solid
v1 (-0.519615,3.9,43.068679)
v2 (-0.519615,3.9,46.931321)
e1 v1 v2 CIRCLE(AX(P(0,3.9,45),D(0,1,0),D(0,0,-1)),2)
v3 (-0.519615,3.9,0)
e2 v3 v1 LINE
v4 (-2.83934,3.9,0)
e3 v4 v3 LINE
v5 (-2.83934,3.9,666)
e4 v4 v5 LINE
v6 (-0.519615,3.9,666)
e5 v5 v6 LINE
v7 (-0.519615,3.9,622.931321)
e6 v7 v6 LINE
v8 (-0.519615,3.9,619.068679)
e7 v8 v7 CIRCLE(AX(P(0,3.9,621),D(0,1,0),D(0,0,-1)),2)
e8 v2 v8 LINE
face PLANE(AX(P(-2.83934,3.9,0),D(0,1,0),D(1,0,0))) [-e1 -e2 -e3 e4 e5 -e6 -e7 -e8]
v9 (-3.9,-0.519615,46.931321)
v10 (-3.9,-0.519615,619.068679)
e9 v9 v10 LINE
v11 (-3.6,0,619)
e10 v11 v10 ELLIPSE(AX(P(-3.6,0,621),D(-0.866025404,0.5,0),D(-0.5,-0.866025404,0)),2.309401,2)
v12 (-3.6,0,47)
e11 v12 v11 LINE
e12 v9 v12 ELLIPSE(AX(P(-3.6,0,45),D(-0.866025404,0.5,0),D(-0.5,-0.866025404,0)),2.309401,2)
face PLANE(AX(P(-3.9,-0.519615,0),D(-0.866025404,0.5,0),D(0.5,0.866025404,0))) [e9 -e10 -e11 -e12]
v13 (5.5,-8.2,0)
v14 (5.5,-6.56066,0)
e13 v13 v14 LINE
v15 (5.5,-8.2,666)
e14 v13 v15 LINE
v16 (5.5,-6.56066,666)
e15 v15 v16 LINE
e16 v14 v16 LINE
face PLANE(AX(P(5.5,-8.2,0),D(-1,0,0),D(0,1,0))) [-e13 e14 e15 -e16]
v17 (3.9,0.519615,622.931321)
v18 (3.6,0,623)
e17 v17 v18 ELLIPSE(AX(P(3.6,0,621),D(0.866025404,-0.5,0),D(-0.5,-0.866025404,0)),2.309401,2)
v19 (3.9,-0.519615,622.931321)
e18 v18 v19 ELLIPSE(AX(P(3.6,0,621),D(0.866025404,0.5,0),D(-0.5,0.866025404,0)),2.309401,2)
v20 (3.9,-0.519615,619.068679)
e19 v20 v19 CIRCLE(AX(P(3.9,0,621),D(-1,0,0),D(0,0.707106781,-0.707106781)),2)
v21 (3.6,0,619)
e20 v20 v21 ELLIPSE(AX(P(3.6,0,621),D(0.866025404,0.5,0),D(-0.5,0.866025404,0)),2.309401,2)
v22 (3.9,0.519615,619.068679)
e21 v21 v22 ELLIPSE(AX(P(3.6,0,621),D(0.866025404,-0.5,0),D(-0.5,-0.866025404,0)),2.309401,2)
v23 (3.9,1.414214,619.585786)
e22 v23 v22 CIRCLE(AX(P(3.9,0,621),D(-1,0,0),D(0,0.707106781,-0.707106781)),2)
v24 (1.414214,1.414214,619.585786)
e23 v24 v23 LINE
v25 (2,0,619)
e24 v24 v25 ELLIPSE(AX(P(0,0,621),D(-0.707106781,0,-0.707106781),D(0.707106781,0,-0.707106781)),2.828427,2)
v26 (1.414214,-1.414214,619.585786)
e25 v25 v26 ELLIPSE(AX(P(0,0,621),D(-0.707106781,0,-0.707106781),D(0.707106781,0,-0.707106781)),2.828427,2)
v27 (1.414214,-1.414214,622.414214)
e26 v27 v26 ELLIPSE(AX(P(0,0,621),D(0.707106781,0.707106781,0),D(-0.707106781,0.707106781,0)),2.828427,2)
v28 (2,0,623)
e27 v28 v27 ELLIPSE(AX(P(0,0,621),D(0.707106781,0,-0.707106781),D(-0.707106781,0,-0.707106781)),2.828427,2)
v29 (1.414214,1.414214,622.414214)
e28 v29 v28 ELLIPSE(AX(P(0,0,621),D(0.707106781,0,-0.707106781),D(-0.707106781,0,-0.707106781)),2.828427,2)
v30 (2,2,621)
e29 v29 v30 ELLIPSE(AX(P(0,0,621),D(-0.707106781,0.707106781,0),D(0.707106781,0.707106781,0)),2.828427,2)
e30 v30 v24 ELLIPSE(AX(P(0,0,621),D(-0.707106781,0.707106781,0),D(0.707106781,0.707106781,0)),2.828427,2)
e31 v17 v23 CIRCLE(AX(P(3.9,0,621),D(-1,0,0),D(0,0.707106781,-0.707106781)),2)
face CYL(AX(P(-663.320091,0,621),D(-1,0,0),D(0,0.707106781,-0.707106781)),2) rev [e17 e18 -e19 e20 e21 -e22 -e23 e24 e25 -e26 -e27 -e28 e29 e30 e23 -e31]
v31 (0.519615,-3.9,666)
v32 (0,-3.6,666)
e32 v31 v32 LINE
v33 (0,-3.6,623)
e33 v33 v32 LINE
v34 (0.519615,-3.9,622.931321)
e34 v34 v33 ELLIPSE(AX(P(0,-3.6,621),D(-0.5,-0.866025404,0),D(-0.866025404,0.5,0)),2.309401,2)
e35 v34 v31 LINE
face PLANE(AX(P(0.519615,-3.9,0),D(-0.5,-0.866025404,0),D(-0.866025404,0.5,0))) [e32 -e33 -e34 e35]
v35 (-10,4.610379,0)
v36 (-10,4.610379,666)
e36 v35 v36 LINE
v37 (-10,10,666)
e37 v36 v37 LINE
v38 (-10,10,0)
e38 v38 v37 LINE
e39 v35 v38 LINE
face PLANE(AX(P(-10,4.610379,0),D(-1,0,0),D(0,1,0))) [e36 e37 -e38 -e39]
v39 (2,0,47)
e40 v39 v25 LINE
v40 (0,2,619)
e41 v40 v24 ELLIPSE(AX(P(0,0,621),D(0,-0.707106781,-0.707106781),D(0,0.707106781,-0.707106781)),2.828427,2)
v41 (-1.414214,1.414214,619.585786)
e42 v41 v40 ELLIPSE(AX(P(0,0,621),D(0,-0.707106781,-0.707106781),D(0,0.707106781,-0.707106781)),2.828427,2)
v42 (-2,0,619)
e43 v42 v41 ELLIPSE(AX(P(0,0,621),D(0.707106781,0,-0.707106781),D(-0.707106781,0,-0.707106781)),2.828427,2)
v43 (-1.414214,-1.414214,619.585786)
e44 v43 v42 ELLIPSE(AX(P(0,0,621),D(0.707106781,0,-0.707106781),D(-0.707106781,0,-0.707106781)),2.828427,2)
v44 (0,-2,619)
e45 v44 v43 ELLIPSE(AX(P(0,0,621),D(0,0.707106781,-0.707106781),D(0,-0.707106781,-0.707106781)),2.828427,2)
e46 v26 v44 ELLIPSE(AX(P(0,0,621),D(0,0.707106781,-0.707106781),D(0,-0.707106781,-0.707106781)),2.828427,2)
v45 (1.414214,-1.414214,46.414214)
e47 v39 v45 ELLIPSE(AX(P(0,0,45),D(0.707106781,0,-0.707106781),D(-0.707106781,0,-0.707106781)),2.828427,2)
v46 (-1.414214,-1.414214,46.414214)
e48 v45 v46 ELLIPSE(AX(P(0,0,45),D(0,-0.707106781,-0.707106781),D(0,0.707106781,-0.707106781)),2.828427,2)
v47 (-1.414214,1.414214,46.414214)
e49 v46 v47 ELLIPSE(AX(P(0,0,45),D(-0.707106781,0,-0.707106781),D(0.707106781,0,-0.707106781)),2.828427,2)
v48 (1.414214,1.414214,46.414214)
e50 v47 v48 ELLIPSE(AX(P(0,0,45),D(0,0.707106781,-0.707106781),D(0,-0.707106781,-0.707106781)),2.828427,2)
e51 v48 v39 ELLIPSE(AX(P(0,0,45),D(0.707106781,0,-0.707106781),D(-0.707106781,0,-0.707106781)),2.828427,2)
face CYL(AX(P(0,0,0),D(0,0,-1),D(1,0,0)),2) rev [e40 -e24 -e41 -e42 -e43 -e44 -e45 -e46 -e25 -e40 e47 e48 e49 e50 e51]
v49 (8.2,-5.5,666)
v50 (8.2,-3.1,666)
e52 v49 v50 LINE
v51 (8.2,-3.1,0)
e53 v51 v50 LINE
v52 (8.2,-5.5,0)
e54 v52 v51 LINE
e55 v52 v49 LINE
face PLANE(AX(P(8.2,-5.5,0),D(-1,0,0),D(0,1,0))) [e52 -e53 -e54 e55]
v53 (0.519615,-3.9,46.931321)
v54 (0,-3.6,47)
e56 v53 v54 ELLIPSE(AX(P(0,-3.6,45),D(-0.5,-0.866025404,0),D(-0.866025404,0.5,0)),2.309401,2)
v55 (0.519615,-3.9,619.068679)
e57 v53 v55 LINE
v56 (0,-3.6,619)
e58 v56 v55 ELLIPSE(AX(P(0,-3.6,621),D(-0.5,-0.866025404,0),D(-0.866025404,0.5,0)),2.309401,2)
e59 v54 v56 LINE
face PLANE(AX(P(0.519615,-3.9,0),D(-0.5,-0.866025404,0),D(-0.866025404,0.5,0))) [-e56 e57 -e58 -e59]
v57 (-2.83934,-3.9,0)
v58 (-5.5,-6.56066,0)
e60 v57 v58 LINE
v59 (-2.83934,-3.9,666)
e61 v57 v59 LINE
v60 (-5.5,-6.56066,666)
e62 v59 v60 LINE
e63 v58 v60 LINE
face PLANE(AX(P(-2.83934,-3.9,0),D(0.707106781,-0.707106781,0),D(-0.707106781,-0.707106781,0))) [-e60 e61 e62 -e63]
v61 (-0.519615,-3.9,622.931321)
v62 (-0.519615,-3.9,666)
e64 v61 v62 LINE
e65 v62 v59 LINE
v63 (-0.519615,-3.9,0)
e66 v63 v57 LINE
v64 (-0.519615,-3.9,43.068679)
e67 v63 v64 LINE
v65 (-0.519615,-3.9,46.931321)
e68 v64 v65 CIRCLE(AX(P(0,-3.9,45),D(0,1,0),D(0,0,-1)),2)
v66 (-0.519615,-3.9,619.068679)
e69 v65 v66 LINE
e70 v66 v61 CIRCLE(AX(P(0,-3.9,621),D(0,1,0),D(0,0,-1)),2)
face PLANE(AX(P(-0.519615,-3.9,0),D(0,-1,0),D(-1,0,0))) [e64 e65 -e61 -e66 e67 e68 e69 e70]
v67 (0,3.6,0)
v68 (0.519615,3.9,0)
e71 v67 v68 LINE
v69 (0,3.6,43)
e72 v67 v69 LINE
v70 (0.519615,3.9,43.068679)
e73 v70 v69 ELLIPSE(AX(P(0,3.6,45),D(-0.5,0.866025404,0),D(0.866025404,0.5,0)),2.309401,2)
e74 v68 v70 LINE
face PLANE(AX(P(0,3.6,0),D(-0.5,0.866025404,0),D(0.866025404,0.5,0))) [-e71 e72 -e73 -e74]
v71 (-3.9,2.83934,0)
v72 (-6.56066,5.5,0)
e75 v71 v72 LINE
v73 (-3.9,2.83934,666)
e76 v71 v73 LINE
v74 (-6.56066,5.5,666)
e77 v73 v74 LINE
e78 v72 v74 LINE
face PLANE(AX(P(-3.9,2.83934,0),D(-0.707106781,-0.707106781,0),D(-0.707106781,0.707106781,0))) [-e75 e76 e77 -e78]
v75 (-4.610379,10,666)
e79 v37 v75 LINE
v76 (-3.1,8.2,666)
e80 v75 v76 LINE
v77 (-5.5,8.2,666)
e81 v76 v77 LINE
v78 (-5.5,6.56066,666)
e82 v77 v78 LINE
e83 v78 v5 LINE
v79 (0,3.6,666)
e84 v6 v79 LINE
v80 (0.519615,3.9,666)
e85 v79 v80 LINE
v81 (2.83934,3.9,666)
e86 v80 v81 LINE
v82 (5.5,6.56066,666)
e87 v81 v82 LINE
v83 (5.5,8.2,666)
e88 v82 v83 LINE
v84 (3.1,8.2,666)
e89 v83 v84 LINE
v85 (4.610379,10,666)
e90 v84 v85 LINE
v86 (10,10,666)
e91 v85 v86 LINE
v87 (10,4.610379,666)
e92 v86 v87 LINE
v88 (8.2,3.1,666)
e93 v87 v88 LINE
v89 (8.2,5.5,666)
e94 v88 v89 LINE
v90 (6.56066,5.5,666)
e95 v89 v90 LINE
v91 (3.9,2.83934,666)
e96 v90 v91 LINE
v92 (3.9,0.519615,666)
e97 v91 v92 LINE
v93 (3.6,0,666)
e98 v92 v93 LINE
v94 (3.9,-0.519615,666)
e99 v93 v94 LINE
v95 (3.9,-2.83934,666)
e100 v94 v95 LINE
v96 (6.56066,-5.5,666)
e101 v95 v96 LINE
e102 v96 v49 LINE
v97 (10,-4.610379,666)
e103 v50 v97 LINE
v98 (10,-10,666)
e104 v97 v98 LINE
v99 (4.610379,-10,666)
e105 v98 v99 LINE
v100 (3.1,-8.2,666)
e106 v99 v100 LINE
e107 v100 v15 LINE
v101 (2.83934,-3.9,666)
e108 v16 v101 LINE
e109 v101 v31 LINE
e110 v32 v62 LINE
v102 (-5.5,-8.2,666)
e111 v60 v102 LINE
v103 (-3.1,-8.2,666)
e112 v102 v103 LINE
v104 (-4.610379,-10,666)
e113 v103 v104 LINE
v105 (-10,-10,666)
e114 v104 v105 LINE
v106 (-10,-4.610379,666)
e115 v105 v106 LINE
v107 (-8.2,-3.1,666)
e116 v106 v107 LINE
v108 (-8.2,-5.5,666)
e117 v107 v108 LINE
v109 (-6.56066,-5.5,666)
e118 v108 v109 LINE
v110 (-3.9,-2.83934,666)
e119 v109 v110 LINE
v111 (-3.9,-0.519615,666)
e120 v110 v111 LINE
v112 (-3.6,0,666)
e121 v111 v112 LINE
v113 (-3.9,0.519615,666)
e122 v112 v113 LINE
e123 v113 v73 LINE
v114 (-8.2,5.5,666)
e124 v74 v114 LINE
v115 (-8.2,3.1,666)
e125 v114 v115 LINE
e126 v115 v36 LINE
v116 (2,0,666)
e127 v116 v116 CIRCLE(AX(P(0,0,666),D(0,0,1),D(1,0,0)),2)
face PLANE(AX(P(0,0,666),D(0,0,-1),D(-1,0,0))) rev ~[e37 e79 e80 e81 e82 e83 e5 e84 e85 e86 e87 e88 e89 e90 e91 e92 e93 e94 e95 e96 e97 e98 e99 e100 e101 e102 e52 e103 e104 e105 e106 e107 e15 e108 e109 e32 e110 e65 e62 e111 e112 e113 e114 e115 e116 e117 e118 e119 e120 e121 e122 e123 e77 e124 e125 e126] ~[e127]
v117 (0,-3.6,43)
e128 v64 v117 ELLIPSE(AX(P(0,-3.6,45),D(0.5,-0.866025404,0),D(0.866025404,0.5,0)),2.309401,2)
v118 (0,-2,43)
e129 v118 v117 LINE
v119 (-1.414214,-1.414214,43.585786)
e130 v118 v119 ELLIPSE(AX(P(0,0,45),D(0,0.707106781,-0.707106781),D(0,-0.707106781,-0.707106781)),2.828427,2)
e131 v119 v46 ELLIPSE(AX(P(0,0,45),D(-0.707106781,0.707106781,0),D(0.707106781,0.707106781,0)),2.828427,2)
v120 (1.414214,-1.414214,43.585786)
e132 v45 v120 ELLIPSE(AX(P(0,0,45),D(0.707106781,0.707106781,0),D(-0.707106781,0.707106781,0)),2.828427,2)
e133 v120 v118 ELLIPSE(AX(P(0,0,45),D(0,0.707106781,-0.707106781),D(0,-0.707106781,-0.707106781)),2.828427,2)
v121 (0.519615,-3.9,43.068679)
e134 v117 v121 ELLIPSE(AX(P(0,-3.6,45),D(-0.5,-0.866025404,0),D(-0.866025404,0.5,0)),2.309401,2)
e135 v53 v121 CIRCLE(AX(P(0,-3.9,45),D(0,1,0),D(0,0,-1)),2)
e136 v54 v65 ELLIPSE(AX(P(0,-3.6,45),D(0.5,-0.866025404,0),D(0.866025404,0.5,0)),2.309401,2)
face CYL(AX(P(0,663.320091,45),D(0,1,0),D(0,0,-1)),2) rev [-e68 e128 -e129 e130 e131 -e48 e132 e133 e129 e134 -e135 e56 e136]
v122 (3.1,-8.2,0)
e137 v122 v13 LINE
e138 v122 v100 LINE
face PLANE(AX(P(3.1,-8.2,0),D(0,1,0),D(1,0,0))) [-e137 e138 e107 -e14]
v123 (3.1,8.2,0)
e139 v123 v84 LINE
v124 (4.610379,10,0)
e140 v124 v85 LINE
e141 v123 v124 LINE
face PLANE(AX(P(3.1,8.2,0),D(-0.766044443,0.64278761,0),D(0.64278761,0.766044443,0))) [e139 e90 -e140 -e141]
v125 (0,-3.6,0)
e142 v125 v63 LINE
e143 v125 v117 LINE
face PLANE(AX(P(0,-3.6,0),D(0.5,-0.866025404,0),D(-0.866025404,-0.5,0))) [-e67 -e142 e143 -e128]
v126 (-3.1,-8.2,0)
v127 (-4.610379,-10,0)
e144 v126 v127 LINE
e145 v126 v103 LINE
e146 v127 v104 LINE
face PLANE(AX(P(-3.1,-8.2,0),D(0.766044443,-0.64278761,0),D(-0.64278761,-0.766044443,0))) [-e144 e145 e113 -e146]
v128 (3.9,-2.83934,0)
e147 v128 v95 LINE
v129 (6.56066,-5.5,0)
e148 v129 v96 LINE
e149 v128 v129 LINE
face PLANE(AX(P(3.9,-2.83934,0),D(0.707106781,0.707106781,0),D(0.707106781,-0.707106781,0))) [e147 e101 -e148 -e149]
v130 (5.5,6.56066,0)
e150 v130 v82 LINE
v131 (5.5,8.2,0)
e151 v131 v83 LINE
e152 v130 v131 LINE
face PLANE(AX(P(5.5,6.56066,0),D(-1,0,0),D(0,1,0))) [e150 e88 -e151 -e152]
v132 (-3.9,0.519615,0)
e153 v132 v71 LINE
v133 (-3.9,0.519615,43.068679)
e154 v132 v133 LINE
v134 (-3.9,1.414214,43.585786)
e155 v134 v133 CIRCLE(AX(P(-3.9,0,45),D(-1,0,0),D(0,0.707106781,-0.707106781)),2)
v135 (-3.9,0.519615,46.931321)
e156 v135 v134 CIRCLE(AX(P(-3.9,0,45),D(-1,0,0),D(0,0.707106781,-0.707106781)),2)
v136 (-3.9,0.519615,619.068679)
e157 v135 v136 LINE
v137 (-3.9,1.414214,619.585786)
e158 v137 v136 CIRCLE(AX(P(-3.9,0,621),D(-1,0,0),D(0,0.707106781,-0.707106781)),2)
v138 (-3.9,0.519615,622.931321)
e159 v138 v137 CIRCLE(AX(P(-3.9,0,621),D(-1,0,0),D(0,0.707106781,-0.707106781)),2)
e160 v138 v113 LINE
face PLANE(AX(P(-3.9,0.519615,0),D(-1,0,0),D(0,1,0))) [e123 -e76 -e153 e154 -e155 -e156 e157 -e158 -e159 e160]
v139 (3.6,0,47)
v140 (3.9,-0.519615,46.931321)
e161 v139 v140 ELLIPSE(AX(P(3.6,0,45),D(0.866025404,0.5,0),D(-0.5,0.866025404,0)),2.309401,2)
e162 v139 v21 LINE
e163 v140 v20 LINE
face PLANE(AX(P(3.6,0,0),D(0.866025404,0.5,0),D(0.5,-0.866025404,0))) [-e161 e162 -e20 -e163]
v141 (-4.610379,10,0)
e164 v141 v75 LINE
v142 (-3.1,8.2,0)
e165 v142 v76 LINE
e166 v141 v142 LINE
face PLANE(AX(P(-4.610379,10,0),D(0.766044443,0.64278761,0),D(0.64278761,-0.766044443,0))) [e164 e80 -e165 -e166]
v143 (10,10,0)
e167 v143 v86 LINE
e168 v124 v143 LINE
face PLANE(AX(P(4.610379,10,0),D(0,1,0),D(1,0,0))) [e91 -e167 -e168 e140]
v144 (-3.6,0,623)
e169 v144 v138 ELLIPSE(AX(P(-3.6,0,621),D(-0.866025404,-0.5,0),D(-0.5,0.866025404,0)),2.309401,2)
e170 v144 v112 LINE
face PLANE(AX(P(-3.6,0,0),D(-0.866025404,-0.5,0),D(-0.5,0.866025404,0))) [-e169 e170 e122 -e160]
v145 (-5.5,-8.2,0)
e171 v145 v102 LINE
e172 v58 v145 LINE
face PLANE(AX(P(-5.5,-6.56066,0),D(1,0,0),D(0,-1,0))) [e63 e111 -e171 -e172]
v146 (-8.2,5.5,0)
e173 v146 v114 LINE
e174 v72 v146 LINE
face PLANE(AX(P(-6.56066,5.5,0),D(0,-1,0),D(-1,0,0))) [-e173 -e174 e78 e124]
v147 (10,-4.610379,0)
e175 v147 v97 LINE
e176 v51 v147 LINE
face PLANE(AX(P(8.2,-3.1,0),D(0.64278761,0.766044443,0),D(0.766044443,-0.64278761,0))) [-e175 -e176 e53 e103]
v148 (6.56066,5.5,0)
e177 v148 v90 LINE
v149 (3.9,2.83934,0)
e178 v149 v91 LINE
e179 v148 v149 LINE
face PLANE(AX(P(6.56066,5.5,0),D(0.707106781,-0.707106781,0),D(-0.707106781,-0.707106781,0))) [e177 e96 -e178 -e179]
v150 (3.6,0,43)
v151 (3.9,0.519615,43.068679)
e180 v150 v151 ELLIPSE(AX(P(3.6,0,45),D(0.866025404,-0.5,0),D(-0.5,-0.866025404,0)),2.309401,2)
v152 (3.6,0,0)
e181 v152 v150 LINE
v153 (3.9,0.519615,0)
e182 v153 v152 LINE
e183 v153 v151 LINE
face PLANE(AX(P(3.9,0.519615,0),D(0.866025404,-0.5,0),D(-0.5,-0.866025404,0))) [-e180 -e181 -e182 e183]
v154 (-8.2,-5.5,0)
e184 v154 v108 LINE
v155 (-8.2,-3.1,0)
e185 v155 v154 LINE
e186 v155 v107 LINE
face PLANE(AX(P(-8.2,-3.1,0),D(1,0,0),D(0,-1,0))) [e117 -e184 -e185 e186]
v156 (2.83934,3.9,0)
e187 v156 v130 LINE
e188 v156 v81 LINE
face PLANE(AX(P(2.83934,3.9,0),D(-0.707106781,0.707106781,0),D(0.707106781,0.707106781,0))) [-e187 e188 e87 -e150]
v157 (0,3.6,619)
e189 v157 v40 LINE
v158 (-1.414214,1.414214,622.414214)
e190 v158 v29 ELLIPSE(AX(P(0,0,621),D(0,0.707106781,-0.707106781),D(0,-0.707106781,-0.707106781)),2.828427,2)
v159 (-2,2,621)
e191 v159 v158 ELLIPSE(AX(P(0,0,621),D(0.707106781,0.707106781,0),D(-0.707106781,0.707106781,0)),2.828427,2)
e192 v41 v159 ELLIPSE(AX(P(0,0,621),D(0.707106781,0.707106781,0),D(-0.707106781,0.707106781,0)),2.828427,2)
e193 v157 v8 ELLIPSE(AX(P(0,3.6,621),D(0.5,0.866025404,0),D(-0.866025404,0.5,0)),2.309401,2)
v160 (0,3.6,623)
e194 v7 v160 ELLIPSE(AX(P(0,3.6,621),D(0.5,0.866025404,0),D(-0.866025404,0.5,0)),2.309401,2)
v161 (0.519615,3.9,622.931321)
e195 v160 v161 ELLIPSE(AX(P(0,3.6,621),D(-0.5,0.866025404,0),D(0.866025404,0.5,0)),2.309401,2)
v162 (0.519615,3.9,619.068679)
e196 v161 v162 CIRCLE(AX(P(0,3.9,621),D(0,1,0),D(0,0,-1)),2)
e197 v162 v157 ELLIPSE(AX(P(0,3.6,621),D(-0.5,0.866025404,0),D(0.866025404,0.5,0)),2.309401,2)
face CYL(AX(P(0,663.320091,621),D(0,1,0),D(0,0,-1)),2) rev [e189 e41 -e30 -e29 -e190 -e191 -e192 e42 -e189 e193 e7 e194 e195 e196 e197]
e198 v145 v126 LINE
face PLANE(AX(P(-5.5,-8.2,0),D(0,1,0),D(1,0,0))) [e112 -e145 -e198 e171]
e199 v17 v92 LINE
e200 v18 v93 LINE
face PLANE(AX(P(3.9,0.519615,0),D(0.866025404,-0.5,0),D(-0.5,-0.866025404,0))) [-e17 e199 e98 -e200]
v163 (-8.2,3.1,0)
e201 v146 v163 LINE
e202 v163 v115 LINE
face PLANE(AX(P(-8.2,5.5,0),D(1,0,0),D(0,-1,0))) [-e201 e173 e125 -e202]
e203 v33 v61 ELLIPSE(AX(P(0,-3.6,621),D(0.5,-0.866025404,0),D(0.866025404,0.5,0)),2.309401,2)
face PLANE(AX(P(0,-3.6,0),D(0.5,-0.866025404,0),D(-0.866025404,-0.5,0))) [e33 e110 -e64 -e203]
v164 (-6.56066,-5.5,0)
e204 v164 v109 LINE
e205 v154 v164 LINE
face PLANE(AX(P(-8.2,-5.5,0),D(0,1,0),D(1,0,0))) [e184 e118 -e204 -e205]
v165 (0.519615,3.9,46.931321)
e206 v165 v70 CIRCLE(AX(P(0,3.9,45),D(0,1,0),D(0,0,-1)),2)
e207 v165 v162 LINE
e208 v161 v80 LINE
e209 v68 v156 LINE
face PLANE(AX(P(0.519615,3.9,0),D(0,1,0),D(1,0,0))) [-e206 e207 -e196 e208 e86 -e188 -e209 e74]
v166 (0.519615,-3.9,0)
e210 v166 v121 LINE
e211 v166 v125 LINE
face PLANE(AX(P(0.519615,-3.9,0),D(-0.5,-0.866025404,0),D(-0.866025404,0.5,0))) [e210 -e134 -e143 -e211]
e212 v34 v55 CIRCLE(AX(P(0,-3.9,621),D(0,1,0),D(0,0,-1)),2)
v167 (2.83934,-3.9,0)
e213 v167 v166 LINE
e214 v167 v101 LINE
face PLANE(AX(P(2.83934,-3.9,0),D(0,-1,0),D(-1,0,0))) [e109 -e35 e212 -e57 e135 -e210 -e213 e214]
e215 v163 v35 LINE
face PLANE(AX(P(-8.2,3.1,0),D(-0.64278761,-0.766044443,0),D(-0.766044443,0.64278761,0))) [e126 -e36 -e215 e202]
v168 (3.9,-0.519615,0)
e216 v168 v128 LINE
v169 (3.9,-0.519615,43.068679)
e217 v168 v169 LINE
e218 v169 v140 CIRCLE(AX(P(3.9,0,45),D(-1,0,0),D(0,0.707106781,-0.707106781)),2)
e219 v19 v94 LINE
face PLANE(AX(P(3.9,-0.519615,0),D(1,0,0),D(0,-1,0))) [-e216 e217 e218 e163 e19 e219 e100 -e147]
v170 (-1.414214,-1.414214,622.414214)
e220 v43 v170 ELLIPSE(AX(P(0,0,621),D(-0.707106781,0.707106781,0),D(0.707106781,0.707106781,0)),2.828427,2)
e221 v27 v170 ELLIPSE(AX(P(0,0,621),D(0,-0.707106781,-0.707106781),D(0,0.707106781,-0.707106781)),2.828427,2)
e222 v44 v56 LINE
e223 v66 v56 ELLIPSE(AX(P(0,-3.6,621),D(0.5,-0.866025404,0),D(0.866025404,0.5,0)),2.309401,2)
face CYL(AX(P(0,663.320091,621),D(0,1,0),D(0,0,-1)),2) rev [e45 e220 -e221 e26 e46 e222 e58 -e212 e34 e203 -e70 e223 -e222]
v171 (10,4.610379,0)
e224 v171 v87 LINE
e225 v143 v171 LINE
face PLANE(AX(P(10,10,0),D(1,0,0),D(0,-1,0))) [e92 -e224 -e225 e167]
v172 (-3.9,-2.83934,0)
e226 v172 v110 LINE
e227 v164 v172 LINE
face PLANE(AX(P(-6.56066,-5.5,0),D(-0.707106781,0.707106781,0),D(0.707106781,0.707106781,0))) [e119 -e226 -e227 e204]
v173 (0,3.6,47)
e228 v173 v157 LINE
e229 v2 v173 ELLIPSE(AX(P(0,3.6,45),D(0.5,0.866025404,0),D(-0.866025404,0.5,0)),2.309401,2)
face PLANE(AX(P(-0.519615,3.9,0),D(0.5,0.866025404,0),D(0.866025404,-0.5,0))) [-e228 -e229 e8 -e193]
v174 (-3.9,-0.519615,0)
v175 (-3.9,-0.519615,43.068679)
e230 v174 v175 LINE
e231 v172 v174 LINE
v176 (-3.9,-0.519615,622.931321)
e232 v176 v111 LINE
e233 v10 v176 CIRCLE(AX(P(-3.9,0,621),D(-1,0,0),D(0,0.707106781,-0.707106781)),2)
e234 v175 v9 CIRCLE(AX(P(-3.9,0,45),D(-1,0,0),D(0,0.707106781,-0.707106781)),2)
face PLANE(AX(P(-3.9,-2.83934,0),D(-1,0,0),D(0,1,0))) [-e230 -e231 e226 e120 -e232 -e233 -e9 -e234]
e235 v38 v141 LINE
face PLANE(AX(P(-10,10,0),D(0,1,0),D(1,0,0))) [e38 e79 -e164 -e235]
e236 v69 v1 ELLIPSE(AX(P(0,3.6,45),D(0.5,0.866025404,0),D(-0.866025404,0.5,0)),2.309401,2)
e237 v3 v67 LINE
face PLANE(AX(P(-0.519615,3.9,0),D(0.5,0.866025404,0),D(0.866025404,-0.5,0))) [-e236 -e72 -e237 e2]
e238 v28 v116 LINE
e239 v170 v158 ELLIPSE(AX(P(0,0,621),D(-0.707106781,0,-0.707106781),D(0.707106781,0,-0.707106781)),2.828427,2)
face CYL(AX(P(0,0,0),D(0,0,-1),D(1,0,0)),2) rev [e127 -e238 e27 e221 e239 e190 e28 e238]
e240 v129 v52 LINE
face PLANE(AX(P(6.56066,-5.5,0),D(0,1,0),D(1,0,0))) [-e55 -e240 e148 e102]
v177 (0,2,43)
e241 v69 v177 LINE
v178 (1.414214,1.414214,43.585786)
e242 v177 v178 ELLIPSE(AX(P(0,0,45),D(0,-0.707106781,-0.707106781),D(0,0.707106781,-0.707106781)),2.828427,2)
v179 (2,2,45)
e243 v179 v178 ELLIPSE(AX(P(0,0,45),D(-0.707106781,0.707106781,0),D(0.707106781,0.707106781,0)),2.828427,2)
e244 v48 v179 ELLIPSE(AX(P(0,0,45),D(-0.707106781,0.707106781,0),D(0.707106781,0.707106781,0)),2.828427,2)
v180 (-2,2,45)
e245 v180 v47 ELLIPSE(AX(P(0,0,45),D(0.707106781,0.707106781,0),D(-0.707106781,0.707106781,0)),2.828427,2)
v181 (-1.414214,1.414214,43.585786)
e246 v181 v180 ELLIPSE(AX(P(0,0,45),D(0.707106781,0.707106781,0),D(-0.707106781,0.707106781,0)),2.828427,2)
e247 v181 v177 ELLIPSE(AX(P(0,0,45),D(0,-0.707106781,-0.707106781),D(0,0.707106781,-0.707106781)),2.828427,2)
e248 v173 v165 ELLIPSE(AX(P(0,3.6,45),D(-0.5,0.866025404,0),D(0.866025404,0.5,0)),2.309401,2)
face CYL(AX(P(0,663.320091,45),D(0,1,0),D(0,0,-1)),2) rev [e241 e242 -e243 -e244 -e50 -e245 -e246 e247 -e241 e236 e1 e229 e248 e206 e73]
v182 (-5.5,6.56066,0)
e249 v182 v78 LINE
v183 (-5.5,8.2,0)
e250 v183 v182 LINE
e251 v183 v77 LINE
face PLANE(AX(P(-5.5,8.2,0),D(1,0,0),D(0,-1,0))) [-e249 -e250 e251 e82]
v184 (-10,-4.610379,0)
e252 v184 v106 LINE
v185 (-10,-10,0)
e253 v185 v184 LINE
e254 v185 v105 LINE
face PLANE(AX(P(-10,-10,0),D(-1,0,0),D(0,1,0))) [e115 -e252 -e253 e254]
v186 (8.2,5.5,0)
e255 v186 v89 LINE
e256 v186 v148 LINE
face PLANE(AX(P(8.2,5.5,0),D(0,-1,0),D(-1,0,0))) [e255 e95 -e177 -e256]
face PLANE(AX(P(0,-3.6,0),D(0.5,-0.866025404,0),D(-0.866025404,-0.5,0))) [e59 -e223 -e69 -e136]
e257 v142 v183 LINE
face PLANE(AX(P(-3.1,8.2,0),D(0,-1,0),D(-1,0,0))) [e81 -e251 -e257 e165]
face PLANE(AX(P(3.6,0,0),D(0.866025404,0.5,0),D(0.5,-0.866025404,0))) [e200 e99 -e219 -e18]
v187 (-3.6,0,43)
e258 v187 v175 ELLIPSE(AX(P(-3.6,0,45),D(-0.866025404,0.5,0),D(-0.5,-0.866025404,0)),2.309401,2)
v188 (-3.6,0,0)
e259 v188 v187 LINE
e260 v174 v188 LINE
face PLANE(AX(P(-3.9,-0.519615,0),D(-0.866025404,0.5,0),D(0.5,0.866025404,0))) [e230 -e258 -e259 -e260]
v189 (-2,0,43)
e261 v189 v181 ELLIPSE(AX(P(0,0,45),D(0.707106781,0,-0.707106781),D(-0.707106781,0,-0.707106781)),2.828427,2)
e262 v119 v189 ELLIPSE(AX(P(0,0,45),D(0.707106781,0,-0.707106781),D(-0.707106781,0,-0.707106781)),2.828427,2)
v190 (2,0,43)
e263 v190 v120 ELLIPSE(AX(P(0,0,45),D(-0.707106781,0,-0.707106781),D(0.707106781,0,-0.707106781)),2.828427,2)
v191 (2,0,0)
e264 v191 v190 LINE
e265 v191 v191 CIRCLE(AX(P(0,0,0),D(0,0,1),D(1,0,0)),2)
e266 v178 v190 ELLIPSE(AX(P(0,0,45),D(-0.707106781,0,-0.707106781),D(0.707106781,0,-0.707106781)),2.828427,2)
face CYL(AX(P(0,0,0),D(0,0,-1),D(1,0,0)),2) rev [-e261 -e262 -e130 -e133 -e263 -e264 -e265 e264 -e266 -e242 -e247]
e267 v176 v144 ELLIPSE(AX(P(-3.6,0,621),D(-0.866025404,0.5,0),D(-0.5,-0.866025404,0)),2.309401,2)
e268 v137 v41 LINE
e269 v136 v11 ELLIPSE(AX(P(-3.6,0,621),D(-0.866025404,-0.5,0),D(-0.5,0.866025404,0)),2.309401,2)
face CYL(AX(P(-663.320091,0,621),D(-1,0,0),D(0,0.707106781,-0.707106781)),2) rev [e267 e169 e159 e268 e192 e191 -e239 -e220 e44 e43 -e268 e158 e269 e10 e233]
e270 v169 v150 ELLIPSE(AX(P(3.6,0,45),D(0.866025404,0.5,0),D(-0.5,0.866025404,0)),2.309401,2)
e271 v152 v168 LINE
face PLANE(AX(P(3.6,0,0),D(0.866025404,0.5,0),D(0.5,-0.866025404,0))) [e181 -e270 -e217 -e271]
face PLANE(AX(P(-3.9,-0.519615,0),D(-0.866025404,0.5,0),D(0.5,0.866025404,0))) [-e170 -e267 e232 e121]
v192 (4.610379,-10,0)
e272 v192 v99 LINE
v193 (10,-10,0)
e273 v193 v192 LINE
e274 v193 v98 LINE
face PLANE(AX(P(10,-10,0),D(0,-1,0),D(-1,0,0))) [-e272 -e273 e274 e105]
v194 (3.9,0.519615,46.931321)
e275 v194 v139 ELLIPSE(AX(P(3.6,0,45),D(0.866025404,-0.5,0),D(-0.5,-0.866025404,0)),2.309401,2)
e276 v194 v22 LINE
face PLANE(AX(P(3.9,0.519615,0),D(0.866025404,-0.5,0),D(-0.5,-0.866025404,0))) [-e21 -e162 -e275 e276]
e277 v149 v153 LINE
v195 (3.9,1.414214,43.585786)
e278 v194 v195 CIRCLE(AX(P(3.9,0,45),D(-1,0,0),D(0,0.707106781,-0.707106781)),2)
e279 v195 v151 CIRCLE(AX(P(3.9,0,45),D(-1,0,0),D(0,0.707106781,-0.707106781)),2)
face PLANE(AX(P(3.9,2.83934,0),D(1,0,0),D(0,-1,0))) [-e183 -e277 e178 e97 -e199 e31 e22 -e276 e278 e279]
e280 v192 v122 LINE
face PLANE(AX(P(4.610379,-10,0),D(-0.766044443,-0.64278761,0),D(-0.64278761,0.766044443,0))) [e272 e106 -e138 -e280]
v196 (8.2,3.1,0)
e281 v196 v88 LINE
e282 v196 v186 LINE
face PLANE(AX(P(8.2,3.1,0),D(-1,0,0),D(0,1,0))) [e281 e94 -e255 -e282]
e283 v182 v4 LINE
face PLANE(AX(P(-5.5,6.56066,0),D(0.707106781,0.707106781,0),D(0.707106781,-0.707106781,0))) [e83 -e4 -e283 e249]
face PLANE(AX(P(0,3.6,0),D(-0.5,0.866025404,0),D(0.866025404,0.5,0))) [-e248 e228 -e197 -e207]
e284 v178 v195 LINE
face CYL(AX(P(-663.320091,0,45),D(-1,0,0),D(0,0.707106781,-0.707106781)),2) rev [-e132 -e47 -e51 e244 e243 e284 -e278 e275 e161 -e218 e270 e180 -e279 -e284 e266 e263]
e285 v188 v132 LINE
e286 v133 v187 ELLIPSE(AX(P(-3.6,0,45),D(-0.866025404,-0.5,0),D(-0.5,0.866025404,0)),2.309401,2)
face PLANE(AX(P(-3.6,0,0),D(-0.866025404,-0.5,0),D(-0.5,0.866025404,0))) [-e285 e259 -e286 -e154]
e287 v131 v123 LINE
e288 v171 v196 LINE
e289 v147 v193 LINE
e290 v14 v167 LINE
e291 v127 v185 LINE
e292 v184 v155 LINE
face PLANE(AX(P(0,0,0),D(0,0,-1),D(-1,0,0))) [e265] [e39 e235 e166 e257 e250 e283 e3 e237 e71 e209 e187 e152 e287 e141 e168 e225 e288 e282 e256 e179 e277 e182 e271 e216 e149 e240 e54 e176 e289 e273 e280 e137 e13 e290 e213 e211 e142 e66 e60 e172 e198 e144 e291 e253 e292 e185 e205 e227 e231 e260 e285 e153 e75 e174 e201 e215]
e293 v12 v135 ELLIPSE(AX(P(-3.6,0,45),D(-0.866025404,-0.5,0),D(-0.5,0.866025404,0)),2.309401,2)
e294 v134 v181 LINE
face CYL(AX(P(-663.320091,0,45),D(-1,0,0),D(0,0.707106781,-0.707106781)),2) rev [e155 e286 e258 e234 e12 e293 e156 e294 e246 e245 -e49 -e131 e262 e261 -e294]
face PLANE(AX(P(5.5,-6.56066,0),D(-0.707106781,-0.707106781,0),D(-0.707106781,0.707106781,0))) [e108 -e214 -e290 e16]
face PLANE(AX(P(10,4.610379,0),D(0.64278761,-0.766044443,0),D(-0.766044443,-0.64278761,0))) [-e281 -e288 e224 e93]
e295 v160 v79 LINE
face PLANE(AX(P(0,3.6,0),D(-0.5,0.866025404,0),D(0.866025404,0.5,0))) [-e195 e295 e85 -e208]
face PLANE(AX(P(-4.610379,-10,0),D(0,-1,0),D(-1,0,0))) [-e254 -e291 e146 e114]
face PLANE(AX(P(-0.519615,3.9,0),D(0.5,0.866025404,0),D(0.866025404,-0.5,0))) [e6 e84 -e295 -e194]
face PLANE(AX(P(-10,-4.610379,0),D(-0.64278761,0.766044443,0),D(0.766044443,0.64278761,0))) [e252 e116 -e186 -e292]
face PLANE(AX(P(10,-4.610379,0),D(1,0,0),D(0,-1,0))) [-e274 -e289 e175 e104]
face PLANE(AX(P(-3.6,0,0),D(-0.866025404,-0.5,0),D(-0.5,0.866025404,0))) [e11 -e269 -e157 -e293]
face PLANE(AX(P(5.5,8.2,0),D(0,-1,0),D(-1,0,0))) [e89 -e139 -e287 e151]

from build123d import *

# Parameters (mm, degrees)
SKETCH1_R               = 2
BOSS_EXTRUDE1_DEPTH     = 666
CUT_EXTRUDE1_DEPTH      = 667.220091261
CUT_EXTRUDE1_DEPTH_BACK = 667.220091261
SKETCH2_R               = 2
CUT_EXTRUDE2_DEPTH      = 667.220091261
CUT_EXTRUDE2_DEPTH_BACK = 667.220091261
SKETCH3_R               = 2


with BuildPart() as part:
    # Sketch1 → Boss-Extrude1 (new body)
    with BuildSketch(Plane.XY):
        Polygon((10, 10), (10, 4.610379336), (8.2, 3.1), (8.2, 5.5), (6.560660172, 5.5), (3.9, 2.839339828), (3.9, 0.519615242), (3.6, 0), (3.9, -0.519615242), (3.9, -2.839339828), (6.560660172, -5.5), (8.2, -5.5), (8.2, -3.1), (10, -4.610379336), (10, -10), (4.610379336, -10), (3.1, -8.2), (5.5, -8.2), (5.5, -6.560660172), (2.839339828, -3.9), (0.519615242, -3.9), (0, -3.6), (-0.519615242, -3.9), (-2.839339828, -3.9), (-5.5, -6.560660172), (-5.5, -8.2), (-3.1, -8.2), (-4.610379336, -10), (-10, -10), (-10, -4.610379336), (-8.2, -3.1), (-8.2, -5.5), (-6.560660172, -5.5), (-3.9, -2.839339828), (-3.9, -0.519615242), (-3.6, 0), (-3.9, 0.519615242), (-3.9, 2.839339828), (-6.560660172, 5.5), (-8.2, 5.5), (-8.2, 3.1), (-10, 4.610379336), (-10, 10), (-4.610379336, 10), (-3.1, 8.2), (-5.5, 8.2), (-5.5, 6.560660172), (-2.839339828, 3.9), (-0.519615242, 3.9), (0, 3.6), (0.519615242, 3.9), (2.839339828, 3.9), (5.5, 6.560660172), (5.5, 8.2), (3.1, 8.2), (4.610379336, 10), align=None)
        Circle(SKETCH1_R, mode=Mode.SUBTRACT)
    extrude(amount=BOSS_EXTRUDE1_DEPTH)

    # Sketch2 → Cut-Extrude1 (cut, two sides: drawn at the far end of the back side and taken through both)
    with BuildSketch(Plane(origin=(0, -3.9, 0), x_dir=(-1, 0, 0), z_dir=(0, -1, 0)).offset(-CUT_EXTRUDE1_DEPTH_BACK)):
        with Locations(Location((0, -621, 0), (0, 0, 90))):
            Circle(SKETCH2_R)
        with Locations(Location((0, -45, 0), (0, 0, 90))):
            Circle(SKETCH2_R)
    extrude(amount=CUT_EXTRUDE1_DEPTH + CUT_EXTRUDE1_DEPTH_BACK, mode=Mode.SUBTRACT)

    # Sketch3 → Cut-Extrude2 (cut, two sides: drawn at the far end of the back side and taken through both)
    with BuildSketch(Plane(origin=(3.9, 0, 0), x_dir=(0, 0, -1), z_dir=(1, 0, 0)).offset(-CUT_EXTRUDE2_DEPTH_BACK)):
        with Locations(Location((-45, 0, 0), (0, 0, 45))):
            Circle(SKETCH3_R)
        with Locations(Location((-621, 0, 0), (0, 0, 45))):
            Circle(SKETCH3_R)
    extrude(amount=CUT_EXTRUDE2_DEPTH + CUT_EXTRUDE2_DEPTH_BACK, mode=Mode.SUBTRACT)


solid = part.part
